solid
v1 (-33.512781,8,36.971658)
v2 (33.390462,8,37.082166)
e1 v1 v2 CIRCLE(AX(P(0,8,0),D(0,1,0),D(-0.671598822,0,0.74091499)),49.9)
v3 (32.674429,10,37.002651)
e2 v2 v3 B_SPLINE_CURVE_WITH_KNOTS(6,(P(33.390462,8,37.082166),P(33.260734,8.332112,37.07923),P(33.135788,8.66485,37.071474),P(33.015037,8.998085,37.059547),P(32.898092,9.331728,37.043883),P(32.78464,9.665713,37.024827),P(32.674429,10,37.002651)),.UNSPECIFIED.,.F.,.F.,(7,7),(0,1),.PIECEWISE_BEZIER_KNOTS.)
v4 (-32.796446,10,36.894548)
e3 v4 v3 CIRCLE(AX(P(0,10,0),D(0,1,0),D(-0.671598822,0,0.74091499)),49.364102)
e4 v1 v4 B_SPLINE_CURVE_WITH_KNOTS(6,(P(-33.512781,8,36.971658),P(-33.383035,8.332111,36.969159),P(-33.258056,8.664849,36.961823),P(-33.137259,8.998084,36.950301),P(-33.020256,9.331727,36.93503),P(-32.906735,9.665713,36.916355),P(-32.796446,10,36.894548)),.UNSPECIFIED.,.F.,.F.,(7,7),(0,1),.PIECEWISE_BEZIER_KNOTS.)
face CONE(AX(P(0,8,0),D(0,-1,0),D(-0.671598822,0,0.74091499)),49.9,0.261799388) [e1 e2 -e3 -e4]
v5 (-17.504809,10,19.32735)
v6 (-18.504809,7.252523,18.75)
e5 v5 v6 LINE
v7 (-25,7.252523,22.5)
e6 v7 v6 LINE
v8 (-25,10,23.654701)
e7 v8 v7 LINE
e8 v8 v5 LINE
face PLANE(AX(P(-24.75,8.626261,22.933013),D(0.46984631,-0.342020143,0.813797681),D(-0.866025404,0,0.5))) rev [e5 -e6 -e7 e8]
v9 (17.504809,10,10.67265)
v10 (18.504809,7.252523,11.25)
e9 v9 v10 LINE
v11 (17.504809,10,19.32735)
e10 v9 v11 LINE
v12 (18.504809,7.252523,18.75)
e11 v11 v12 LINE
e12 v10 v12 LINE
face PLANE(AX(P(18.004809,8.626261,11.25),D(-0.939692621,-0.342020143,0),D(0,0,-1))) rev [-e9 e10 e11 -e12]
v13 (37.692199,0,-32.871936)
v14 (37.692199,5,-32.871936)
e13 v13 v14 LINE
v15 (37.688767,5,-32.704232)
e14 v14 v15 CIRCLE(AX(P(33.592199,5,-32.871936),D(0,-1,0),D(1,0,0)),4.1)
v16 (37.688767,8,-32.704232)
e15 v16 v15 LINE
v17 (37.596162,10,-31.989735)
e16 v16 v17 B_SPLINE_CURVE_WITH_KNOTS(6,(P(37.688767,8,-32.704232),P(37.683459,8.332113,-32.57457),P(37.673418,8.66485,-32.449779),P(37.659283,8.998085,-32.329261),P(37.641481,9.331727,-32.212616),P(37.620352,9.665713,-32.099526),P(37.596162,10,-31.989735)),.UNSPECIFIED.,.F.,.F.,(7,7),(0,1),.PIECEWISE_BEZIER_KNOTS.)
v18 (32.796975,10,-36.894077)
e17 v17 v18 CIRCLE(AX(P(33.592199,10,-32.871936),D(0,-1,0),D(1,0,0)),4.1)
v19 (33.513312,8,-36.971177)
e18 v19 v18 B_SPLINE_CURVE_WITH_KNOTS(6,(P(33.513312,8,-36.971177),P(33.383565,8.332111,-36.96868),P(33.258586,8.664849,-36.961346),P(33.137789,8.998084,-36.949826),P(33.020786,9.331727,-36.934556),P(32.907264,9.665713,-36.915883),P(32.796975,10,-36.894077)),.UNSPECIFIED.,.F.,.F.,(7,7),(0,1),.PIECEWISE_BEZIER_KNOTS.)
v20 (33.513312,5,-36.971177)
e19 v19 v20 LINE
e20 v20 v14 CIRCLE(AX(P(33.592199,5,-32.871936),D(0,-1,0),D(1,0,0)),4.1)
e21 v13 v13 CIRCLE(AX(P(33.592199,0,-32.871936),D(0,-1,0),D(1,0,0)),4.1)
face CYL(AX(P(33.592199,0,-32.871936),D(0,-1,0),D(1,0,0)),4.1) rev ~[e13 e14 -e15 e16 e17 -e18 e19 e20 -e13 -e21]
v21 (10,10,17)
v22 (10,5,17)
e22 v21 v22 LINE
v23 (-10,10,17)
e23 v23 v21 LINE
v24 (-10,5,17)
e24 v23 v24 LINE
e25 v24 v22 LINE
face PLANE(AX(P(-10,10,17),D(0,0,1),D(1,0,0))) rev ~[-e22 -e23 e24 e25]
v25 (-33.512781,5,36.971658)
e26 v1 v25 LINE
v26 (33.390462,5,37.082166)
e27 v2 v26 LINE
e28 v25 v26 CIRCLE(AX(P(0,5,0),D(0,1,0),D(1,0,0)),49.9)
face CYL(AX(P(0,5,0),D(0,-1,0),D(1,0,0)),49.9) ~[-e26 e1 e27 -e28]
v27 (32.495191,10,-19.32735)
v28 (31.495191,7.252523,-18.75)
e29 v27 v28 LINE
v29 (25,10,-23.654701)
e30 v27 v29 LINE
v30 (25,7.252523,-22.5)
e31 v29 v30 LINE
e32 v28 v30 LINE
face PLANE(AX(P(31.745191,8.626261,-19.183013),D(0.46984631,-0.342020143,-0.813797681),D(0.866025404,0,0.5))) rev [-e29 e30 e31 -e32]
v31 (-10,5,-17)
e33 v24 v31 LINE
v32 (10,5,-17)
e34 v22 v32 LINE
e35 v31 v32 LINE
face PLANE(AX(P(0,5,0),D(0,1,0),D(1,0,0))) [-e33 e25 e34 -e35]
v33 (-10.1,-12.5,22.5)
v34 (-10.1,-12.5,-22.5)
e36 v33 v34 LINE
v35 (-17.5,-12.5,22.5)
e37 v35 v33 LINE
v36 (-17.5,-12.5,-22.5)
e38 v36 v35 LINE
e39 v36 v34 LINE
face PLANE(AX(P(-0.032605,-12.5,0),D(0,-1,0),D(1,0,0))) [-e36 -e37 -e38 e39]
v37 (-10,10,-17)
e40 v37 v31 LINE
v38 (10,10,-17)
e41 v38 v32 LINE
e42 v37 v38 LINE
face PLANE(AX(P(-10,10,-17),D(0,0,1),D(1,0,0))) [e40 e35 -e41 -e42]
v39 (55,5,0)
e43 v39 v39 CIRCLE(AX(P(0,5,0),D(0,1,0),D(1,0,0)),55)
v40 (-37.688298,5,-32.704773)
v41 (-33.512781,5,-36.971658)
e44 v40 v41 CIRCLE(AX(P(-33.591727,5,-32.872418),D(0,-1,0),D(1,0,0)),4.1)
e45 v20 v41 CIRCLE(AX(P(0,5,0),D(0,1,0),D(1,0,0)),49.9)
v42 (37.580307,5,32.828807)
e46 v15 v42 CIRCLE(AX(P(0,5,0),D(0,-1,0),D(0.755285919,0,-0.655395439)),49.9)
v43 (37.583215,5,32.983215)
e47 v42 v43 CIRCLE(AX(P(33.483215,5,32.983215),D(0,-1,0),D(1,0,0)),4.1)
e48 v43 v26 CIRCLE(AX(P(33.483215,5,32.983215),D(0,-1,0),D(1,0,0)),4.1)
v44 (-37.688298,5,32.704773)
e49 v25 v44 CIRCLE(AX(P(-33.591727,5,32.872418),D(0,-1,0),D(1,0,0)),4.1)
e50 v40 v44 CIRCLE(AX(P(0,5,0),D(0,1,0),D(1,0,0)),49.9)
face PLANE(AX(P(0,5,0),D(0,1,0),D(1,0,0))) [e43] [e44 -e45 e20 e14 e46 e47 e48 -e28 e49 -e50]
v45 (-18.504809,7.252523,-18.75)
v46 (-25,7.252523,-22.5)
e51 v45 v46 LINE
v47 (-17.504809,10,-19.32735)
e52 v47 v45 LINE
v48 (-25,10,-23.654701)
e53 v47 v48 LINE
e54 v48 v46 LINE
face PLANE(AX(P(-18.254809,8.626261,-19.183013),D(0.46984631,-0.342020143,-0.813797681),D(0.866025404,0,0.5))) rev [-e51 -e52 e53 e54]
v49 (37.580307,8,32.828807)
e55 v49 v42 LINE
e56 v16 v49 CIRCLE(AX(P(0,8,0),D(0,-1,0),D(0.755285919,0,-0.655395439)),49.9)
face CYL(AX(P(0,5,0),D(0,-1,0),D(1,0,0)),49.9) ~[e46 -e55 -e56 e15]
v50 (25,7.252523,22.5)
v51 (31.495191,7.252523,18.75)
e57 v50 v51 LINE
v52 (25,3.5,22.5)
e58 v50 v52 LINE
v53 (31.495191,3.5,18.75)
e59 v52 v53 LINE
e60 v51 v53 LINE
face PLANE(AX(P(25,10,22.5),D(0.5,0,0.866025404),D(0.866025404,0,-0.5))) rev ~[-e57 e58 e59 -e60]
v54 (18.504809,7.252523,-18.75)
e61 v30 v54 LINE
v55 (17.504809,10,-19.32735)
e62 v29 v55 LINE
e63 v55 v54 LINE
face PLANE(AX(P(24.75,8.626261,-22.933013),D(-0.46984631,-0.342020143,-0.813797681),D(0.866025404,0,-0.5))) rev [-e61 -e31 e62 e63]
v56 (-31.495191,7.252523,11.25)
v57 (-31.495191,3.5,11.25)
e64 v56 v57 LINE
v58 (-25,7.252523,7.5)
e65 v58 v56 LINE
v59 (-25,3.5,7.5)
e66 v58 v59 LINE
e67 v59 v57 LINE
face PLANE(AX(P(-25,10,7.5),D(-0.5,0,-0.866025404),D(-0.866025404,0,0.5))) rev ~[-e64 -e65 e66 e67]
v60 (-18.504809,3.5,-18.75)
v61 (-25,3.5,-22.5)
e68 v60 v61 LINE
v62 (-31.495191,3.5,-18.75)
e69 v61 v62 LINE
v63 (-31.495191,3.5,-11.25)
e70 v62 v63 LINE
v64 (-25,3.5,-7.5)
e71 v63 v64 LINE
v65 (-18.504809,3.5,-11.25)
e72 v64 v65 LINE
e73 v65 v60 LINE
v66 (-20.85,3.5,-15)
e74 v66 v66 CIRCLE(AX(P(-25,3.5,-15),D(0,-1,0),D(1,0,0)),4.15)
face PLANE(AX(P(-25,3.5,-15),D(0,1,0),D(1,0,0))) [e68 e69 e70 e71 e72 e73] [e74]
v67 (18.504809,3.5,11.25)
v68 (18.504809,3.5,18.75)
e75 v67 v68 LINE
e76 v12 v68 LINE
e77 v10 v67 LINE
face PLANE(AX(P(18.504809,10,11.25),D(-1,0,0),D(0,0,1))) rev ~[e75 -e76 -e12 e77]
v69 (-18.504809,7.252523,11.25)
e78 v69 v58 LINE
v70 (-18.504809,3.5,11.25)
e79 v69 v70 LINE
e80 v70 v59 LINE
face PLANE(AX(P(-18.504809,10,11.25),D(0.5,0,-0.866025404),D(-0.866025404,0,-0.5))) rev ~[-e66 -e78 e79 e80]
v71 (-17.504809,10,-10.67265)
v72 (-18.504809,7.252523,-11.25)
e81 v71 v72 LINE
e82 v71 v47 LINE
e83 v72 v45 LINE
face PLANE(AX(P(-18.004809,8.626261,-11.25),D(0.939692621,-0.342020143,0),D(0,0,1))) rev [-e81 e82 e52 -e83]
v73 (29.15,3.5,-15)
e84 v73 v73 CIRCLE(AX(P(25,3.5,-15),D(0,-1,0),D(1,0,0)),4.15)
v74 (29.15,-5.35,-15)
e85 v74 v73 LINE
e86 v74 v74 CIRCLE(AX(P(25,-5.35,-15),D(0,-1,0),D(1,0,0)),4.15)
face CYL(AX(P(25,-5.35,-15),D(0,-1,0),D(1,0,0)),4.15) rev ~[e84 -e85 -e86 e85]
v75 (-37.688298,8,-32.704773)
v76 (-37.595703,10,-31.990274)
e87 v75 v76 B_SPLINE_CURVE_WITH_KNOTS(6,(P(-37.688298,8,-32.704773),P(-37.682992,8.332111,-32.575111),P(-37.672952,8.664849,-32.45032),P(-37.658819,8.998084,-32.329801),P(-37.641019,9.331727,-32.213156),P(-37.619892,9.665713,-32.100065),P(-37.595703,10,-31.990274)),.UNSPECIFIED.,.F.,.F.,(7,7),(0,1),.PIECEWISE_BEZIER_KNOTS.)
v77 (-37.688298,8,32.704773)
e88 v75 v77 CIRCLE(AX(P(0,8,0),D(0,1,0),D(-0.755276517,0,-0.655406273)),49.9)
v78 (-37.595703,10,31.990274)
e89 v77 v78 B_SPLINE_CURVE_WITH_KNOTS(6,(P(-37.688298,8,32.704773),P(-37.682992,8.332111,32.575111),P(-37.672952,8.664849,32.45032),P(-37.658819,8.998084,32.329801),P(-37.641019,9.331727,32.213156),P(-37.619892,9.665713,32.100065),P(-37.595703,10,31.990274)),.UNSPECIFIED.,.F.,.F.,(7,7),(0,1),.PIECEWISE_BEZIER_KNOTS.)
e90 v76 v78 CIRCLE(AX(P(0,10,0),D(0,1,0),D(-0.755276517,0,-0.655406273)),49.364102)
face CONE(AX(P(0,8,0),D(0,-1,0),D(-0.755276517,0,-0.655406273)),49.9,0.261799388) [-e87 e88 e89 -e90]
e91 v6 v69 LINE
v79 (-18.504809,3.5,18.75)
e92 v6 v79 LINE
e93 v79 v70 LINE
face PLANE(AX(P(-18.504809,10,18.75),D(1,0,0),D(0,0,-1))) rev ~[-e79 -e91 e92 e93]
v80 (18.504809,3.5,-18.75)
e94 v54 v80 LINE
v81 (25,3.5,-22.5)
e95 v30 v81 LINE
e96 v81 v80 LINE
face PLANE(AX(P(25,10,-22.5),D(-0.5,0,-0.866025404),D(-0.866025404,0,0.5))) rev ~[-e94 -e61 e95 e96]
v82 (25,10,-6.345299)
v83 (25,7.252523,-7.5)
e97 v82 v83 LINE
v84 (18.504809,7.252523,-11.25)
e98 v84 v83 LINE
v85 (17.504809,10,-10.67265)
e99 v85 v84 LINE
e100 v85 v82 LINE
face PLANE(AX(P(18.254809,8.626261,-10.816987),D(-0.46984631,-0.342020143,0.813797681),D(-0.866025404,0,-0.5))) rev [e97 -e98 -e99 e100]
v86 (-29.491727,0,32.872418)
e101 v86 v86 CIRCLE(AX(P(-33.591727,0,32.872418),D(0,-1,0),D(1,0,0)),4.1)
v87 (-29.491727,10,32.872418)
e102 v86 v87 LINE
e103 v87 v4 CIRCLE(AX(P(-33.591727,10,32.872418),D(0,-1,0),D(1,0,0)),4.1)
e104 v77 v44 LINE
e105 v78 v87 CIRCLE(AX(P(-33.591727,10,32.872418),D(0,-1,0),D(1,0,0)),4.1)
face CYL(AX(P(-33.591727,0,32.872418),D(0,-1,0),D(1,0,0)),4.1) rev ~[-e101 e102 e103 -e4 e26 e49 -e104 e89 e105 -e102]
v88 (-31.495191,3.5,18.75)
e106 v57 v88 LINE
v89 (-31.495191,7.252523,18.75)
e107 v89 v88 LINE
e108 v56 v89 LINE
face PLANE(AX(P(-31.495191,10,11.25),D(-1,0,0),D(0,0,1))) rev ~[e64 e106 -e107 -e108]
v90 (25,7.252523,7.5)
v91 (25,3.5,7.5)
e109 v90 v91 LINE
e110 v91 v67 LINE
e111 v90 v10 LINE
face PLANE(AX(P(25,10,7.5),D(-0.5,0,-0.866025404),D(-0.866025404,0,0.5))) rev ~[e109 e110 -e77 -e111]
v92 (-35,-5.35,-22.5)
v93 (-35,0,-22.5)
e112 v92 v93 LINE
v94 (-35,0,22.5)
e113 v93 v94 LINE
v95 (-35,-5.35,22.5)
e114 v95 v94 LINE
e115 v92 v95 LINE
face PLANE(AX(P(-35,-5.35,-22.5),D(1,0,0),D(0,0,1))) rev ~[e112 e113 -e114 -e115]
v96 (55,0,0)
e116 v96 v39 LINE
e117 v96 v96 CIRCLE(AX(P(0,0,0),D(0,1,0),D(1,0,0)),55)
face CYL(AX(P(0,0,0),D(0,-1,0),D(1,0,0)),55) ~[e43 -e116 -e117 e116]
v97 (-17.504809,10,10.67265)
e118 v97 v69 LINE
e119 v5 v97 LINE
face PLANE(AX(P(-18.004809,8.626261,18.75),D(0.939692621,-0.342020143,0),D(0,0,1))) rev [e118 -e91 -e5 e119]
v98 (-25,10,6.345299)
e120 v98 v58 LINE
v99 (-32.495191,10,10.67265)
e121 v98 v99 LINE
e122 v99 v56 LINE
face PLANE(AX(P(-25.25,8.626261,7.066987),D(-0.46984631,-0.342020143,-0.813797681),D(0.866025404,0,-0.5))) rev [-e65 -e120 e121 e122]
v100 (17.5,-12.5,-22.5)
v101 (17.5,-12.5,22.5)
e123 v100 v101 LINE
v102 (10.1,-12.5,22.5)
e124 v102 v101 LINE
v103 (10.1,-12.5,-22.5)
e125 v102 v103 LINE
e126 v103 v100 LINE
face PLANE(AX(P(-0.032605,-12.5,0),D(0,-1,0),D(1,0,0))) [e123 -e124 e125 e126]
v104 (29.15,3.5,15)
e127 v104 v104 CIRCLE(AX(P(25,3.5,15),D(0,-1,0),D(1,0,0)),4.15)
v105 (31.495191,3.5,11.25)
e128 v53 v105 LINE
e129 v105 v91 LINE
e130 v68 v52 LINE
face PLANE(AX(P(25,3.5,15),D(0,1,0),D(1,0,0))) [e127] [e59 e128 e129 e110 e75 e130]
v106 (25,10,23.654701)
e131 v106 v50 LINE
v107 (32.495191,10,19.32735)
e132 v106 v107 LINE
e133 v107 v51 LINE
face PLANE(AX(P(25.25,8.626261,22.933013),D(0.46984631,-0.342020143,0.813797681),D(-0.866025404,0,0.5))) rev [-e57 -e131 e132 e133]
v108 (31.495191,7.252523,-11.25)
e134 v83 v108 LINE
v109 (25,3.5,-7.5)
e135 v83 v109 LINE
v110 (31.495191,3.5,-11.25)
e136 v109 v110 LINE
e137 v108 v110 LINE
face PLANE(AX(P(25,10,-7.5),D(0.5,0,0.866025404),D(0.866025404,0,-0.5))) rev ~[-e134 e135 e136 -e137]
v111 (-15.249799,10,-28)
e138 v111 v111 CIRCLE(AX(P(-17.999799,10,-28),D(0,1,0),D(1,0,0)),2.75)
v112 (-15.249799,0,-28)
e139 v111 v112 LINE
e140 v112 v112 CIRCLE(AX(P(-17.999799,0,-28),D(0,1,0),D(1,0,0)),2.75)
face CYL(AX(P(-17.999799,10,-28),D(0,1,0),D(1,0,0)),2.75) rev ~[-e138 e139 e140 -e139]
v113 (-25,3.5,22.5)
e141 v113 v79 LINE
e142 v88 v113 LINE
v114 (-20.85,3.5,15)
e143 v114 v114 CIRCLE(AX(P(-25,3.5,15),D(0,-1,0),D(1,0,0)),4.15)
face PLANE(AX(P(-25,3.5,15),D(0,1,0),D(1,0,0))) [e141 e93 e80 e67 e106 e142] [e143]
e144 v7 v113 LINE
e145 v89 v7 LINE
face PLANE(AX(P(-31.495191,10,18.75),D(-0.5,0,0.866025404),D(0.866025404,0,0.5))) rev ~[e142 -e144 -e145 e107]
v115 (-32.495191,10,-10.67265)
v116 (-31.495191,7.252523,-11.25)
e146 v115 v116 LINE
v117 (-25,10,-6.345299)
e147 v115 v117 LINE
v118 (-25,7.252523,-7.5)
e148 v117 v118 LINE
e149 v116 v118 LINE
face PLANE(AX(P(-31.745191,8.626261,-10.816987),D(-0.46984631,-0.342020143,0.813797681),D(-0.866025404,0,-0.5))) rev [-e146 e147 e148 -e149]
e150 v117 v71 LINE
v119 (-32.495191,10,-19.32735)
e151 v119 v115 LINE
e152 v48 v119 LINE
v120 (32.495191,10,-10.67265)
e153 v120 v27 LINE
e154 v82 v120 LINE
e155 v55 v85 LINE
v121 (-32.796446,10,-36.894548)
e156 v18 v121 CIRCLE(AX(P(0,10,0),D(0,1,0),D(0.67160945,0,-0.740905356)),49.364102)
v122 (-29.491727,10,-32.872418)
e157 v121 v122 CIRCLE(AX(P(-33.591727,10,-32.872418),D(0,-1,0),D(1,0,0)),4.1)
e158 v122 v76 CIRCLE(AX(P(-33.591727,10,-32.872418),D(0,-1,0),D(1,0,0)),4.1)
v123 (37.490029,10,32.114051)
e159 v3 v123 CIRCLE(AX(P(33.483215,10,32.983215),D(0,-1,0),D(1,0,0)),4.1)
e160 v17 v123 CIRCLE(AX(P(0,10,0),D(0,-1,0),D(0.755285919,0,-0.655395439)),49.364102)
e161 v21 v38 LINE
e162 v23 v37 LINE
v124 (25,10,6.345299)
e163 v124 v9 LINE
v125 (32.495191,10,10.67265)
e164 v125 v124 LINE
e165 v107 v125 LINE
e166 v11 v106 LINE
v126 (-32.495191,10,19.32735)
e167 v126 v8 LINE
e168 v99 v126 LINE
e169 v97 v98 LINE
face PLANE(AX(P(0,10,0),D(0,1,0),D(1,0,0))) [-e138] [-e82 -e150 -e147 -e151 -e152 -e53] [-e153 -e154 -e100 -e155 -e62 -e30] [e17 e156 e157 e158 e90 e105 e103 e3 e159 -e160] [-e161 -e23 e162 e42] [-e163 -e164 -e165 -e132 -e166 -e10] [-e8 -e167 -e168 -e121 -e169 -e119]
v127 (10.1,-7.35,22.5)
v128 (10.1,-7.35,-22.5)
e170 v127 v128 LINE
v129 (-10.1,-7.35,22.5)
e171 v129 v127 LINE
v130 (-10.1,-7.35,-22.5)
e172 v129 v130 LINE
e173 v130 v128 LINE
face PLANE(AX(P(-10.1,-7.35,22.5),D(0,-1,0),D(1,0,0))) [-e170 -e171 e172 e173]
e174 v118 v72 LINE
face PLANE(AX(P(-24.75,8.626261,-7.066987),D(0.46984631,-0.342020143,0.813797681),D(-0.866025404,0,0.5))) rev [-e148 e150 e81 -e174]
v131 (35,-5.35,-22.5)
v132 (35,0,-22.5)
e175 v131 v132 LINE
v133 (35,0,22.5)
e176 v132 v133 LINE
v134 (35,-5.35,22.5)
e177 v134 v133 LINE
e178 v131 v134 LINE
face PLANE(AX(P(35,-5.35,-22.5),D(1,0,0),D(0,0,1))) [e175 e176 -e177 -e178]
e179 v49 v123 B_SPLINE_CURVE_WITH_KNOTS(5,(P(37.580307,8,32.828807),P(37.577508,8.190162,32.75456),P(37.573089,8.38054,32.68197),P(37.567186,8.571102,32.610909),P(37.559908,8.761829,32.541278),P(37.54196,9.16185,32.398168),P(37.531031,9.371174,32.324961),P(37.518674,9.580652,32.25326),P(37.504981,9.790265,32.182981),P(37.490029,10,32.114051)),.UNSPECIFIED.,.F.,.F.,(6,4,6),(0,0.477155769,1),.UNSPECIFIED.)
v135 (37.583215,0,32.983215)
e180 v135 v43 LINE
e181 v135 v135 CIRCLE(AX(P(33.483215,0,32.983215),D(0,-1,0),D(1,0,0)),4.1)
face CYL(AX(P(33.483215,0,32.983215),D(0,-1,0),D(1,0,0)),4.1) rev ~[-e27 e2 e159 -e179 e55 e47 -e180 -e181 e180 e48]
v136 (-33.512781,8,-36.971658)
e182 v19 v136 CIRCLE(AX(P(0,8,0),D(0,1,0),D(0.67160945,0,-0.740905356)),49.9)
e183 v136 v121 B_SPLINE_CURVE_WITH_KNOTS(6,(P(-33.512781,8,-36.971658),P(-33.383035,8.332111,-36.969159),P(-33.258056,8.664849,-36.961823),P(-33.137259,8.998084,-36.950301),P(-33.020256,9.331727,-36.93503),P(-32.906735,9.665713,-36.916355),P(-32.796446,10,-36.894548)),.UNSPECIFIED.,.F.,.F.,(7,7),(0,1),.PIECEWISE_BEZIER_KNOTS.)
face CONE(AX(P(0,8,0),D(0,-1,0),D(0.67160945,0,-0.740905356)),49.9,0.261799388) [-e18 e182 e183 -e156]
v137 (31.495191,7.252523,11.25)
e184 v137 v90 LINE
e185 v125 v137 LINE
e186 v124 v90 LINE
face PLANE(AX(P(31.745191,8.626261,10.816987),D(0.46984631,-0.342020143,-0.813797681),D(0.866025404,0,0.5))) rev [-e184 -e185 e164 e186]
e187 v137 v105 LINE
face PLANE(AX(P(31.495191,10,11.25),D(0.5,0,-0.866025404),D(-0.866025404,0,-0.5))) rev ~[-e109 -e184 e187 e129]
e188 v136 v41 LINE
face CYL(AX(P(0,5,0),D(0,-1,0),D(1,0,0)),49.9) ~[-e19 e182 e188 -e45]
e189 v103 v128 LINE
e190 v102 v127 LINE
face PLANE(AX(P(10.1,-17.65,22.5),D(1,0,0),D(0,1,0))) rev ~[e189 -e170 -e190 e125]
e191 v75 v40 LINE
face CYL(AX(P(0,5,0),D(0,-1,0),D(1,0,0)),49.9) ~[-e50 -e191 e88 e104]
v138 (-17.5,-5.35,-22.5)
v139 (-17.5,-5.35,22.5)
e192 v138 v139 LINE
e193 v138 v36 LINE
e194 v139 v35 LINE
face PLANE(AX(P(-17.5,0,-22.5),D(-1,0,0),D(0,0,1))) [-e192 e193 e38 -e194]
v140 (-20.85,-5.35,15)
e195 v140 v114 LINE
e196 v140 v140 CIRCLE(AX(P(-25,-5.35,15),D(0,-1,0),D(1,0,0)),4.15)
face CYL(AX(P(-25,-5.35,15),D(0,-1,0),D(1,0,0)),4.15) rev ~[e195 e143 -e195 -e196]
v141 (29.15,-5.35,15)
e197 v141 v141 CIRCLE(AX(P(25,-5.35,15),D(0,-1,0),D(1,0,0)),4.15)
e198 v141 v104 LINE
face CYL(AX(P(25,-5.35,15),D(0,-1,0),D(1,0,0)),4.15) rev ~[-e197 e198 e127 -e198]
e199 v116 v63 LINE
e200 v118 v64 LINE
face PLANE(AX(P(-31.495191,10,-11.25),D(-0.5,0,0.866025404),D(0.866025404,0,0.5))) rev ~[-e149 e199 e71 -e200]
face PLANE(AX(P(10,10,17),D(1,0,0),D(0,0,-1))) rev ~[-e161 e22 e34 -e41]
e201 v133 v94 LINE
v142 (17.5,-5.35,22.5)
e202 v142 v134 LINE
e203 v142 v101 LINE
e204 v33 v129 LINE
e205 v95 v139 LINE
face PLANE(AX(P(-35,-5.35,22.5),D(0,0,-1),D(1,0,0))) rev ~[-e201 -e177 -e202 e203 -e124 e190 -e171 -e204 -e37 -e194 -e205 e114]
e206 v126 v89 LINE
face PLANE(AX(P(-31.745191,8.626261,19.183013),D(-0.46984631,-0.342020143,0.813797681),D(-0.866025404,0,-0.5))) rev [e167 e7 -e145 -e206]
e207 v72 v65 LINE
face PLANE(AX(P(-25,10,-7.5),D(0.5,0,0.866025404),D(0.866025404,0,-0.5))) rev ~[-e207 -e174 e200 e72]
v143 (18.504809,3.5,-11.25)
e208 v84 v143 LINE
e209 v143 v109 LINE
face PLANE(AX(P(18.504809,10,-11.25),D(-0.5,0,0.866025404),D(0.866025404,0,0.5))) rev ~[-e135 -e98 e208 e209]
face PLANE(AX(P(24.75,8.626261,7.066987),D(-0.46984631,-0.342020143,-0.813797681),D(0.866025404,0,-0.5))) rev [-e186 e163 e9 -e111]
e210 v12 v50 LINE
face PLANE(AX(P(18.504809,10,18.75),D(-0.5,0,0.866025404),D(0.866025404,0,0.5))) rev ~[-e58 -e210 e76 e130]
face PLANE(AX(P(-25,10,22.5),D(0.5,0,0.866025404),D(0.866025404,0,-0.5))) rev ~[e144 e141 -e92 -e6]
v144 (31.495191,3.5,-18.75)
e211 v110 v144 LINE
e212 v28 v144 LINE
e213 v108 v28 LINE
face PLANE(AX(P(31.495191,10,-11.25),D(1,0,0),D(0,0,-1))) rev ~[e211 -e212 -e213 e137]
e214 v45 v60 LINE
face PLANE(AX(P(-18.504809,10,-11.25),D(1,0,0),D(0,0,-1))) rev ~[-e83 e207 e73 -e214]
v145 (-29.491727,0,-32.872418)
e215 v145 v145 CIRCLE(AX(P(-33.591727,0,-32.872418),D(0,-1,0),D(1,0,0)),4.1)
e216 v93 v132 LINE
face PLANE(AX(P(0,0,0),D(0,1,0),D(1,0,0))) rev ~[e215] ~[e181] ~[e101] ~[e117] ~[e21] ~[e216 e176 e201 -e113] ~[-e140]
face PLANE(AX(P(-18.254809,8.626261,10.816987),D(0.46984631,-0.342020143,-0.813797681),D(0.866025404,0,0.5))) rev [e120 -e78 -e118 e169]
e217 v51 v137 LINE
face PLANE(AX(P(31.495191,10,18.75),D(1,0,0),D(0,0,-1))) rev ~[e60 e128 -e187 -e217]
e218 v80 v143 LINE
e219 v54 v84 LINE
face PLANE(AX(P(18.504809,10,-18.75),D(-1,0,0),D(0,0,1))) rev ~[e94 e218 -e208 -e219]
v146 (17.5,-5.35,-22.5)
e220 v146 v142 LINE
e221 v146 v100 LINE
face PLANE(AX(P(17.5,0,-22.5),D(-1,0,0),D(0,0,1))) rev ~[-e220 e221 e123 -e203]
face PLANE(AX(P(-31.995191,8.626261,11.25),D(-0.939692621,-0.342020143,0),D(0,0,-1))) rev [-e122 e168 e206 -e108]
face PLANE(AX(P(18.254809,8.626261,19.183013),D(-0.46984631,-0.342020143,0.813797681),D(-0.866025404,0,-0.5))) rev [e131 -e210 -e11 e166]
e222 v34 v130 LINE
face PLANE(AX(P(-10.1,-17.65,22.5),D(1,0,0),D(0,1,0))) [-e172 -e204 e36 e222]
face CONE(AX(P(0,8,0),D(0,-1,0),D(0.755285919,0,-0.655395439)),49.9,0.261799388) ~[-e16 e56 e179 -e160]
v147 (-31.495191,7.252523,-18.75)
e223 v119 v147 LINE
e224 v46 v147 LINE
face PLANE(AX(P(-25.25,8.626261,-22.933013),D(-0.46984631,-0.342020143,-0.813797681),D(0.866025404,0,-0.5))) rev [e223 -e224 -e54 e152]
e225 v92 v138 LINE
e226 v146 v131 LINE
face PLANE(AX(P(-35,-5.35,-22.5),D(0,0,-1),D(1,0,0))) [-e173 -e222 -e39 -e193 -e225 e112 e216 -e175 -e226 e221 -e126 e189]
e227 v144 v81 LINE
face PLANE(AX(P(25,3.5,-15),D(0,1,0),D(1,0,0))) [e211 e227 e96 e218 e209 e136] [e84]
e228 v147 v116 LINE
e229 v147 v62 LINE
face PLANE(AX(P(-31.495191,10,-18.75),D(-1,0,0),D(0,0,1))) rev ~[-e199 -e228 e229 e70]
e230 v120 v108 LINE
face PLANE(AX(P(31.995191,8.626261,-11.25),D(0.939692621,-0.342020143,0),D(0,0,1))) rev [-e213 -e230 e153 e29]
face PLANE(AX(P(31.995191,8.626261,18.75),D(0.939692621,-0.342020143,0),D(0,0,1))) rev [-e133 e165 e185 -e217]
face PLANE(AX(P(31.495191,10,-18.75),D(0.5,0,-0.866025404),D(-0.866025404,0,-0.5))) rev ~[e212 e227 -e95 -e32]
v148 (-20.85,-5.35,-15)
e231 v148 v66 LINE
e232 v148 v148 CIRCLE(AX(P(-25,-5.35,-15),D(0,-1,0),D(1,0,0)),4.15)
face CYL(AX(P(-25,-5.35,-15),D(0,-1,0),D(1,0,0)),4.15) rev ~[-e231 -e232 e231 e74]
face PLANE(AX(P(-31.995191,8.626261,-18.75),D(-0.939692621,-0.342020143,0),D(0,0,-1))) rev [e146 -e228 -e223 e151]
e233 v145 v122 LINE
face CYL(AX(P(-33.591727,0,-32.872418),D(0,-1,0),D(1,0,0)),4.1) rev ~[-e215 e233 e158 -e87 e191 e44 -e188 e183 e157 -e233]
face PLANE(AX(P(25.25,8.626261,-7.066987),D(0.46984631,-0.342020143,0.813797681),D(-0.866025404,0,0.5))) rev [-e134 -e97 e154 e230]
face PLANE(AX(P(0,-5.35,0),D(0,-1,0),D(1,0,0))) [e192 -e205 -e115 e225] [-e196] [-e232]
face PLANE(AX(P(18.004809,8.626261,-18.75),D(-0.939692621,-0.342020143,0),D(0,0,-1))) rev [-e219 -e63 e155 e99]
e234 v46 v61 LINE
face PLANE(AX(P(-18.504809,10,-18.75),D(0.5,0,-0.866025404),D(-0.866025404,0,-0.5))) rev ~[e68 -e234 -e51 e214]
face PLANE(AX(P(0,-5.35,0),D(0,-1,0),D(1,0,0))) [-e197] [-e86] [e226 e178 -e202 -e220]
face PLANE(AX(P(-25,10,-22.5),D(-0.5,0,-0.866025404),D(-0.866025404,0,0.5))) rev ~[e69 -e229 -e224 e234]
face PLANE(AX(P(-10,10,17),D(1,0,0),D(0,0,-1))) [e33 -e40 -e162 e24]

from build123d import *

# Parameters (mm, degrees)
SKETCH_1_R            = 55
EXTRUDE_1_DEPTH       = 5
SKETCH_2_R            = 49.9
EXTRUDE_2_DEPTH       = 5
SKETCH_3_W            = 35
SKETCH_3_H            = 45
EXTRUDE_3_DEPTH       = 25
SKETCH_4_W            = 20.2
SKETCH_4_H            = 10.3
CUT_EXTRUDE_1_DEPTH   = 78.5
SKETCH_5_R            = 4.1
CUT_EXTRUDE_2_DEPTH   = 11
SKETCH_6_R            = 2.75
CUT_EXTRUDE_3_DEPTH   = 36
CHAMFER1_SIZE         = 2
CHAMFER1_SIZE2        = 0.535898385
CHAMFER1_PART_2_SIZE  = 2
CHAMFER1_PART_2_SIZE2 = 0.535898385
CHAMFER1_PART_3_SIZE  = 2
CHAMFER1_PART_3_SIZE2 = 0.535898385
CHAMFER1_PART_4_SIZE  = 2
CHAMFER1_PART_4_SIZE2 = 0.535898385
SKETCH2_W             = 35.065209797
SKETCH2_H             = 45
CUT_EXTRUDE1_DEPTH    = 12.5
BOSS_EXTRUDE1_START   = -2
SKETCH4_W             = 70
SKETCH4_H             = 45
BOSS_EXTRUDE1_DEPTH   = 5.35
SKETCH5_R             = 4.15
CUT_EXTRUDE2_DEPTH    = 16.3500001
CUT_EXTRUDE3_DEPTH    = 6.5
SKETCH7_W             = 20
SKETCH7_H             = 34
CUT_EXTRUDE4_DEPTH    = 5
CHAMFER2_SIZE         = 1
CHAMFER2_SIZE2        = 2.747477419


with BuildPart() as part:
    # Эскиз1 → Бобышка-Вытянуть1 (new body)
    with BuildSketch(Plane(origin=(0, 0, 0), x_dir=(1, 0, 0), z_dir=(0, 1, 0))):
        Circle(SKETCH_1_R)
    extrude(amount=EXTRUDE_1_DEPTH)

    # Эскиз2 → Бобышка-Вытянуть2 (add)
    with BuildSketch(Plane(origin=(0, 5, 0), x_dir=(1, 0, 0), z_dir=(0, 1, 0))):
        Circle(SKETCH_2_R)
    extrude(amount=EXTRUDE_2_DEPTH)

    # Эскиз3 → Бобышка-Вытянуть3 (add)
    with BuildSketch(Plane.XZ):
        Rectangle(SKETCH_3_W, SKETCH_3_H)
    extrude(amount=EXTRUDE_3_DEPTH)

    # Эскиз4 → Вырез-Вытянуть1 (cut, through all)
    with BuildSketch(Plane.XY.offset(22.5)):
        with Locations((0, -12.5)):
            Rectangle(SKETCH_4_W, SKETCH_4_H)
    extrude(amount=-CUT_EXTRUDE_1_DEPTH, mode=Mode.SUBTRACT)

    # Эскиз5 → Вырез-Вытянуть2 (cut, through all)
    with BuildSketch(Plane.XZ):
        with Locations((33.592198598, -32.871936263)):
            Circle(SKETCH_5_R)
        with Locations((-33.591727056, -32.872418125)):
            Circle(SKETCH_5_R)
        with Locations((-33.591727056, 32.872418125)):
            Circle(SKETCH_5_R)
        with Locations((33.483215177, 32.983215177)):
            Circle(SKETCH_5_R)
    extrude(amount=-CUT_EXTRUDE_2_DEPTH, mode=Mode.SUBTRACT)

    # Эскиз6 → Вырез-Вытянуть3 (cut, through all)
    with BuildSketch(Plane(origin=(0, 10, 0), x_dir=(1, 0, 0), z_dir=(0, 1, 0))):
        with Locations((-17.999799176, 27.999999999)):
            Circle(SKETCH_6_R)
    extrude(amount=-CUT_EXTRUDE_3_DEPTH, mode=Mode.SUBTRACT)

    # Chamfer1
    chamfer1_edges = [part.edges().sort_by_distance(p)[0] for p in [
        (0.000357897, 10, -49.899999999),
    ]]
    chamfer1_side = [part.faces().sort_by_distance(p)[0] for p in [
        (0.000357897, 7.5, -49.899999999),
    ]]
    chamfer(chamfer1_edges, length=CHAMFER1_SIZE, length2=CHAMFER1_SIZE2, reference=chamfer1_side[0])

    # Chamfer1 part 2
    chamfer1_part_2_edges = [part.edges().sort_by_distance(p)[0] for p in [
        (-49.9, 10, 0),
    ]]
    chamfer1_part_2_side = [part.faces().sort_by_distance(p)[0] for p in [
        (-49.9, 7.5, 0),
    ]]
    chamfer(chamfer1_part_2_edges, length=CHAMFER1_PART_2_SIZE, length2=CHAMFER1_PART_2_SIZE2, reference=chamfer1_part_2_side[0])

    # Chamfer1 part 3
    chamfer1_part_3_edges = [part.edges().sort_by_distance(p)[0] for p in [
        (-0.08242255, 10, 49.899931929),
    ]]
    chamfer1_part_3_side = [part.faces().sort_by_distance(p)[0] for p in [
        (-0.08242255, 7.5, 49.899931929),
    ]]
    chamfer(chamfer1_part_3_edges, length=CHAMFER1_PART_3_SIZE, length2=CHAMFER1_PART_3_SIZE2, reference=chamfer1_part_3_side[0])

    # Chamfer1 part 4
    chamfer1_part_4_edges = [part.edges().sort_by_distance(p)[0] for p in [
        (49.899931657, 10, 0.082587101),
    ]]
    chamfer1_part_4_side = [part.faces().sort_by_distance(p)[0] for p in [
        (49.899931657, 7.5, 0.082587101),
    ]]
    chamfer(chamfer1_part_4_edges, length=CHAMFER1_PART_4_SIZE, length2=CHAMFER1_PART_4_SIZE2, reference=chamfer1_part_4_side[0])

    # Sketch2 → Cut-Extrude1 (cut)
    with BuildSketch(Plane.XZ.offset(25)):
        with Locations((-0.032604899, 0)):
            Rectangle(SKETCH2_W, SKETCH2_H)
    extrude(amount=-CUT_EXTRUDE1_DEPTH, mode=Mode.SUBTRACT)

    # Sketch4 → Boss-Extrude1 (add)
    with BuildSketch(Plane.XZ.offset(7.35).offset(BOSS_EXTRUDE1_START)):
        Rectangle(SKETCH4_W, SKETCH4_H)
    extrude(amount=-BOSS_EXTRUDE1_DEPTH)

    # Sketch5 → Cut-Extrude2 (cut, through all)
    with BuildSketch(Plane.XZ.offset(5.35)):
        with Locations((25, 15)):
            Circle(SKETCH5_R)
        with Locations((-25, 15)):
            Circle(SKETCH5_R)
        with Locations((25, -15)):
            Circle(SKETCH5_R)
        with Locations((-25, -15)):
            Circle(SKETCH5_R)
    extrude(amount=-CUT_EXTRUDE2_DEPTH, mode=Mode.SUBTRACT)

    # Sketch6 → Cut-Extrude3 (cut)
    with BuildSketch(Plane(origin=(0, 10, 0), x_dir=(1, 0, 0), z_dir=(0, 1, 0))):
        Polygon((-18.504809472, -11.25), (-25, -7.5), (-31.495190528, -11.25), (-31.495190528, -18.75), (-25, -22.5), (-18.504809472, -18.75), align=None)
        Polygon((31.495190528, -11.25), (25, -7.5), (18.504809472, -11.25), (18.504809472, -18.75), (25, -22.5), (31.495190528, -18.75), align=None)
        Polygon((31.495190528, 18.75), (25, 22.5), (18.504809472, 18.75), (18.504809472, 11.25), (25, 7.5), (31.495190528, 11.25), align=None)
        Polygon((-18.504809472, 18.75), (-25, 22.5), (-31.495190528, 18.75), (-31.495190528, 11.25), (-25, 7.5), (-18.504809472, 11.25), align=None)
    extrude(amount=-CUT_EXTRUDE3_DEPTH, mode=Mode.SUBTRACT)

    # Sketch7 → Cut-Extrude4 (cut)
    with BuildSketch(Plane(origin=(0, 10, 0), x_dir=(1, 0, 0), z_dir=(0, 1, 0))):
        Rectangle(SKETCH7_W, SKETCH7_H)
    extrude(amount=-CUT_EXTRUDE4_DEPTH, mode=Mode.SUBTRACT)

    # Chamfer2
    chamfer2_edges = [part.edges().sort_by_distance(p)[0] for p in [
        (-18.504809472, 10, 15),
        (-21.752404736, 10, 9.375),
        (-28.247595264, 10, 9.375),
        (-31.495190528, 10, 15),
        (-28.247595264, 10, 20.625),
        (-21.752404736, 10, 20.625),
        (31.495190528, 10, 15),
        (28.247595264, 10, 9.375),
        (21.752404736, 10, 9.375),
        (18.504809472, 10, 15),
        (21.752404736, 10, 20.625),
        (28.247595264, 10, 20.625),
        (31.495190528, 10, -15),
        (28.247595264, 10, -20.625),
        (21.752404736, 10, -20.625),
        (18.504809472, 10, -15),
        (21.752404736, 10, -9.375),
        (28.247595264, 10, -9.375),
        (-18.504809472, 10, -15),
        (-21.752404736, 10, -20.625),
        (-28.247595264, 10, -20.625),
        (-31.495190528, 10, -15),
        (-28.247595264, 10, -9.375),
        (-21.752404736, 10, -9.375),
    ]]
    chamfer2_side = [part.faces().sort_by_distance(p)[0] for p in [
        (29.567670169, 10, 29.126140435),
    ]]
    chamfer(chamfer2_edges, length=CHAMFER2_SIZE, length2=CHAMFER2_SIZE2, reference=chamfer2_side[0])


solid = part.part
